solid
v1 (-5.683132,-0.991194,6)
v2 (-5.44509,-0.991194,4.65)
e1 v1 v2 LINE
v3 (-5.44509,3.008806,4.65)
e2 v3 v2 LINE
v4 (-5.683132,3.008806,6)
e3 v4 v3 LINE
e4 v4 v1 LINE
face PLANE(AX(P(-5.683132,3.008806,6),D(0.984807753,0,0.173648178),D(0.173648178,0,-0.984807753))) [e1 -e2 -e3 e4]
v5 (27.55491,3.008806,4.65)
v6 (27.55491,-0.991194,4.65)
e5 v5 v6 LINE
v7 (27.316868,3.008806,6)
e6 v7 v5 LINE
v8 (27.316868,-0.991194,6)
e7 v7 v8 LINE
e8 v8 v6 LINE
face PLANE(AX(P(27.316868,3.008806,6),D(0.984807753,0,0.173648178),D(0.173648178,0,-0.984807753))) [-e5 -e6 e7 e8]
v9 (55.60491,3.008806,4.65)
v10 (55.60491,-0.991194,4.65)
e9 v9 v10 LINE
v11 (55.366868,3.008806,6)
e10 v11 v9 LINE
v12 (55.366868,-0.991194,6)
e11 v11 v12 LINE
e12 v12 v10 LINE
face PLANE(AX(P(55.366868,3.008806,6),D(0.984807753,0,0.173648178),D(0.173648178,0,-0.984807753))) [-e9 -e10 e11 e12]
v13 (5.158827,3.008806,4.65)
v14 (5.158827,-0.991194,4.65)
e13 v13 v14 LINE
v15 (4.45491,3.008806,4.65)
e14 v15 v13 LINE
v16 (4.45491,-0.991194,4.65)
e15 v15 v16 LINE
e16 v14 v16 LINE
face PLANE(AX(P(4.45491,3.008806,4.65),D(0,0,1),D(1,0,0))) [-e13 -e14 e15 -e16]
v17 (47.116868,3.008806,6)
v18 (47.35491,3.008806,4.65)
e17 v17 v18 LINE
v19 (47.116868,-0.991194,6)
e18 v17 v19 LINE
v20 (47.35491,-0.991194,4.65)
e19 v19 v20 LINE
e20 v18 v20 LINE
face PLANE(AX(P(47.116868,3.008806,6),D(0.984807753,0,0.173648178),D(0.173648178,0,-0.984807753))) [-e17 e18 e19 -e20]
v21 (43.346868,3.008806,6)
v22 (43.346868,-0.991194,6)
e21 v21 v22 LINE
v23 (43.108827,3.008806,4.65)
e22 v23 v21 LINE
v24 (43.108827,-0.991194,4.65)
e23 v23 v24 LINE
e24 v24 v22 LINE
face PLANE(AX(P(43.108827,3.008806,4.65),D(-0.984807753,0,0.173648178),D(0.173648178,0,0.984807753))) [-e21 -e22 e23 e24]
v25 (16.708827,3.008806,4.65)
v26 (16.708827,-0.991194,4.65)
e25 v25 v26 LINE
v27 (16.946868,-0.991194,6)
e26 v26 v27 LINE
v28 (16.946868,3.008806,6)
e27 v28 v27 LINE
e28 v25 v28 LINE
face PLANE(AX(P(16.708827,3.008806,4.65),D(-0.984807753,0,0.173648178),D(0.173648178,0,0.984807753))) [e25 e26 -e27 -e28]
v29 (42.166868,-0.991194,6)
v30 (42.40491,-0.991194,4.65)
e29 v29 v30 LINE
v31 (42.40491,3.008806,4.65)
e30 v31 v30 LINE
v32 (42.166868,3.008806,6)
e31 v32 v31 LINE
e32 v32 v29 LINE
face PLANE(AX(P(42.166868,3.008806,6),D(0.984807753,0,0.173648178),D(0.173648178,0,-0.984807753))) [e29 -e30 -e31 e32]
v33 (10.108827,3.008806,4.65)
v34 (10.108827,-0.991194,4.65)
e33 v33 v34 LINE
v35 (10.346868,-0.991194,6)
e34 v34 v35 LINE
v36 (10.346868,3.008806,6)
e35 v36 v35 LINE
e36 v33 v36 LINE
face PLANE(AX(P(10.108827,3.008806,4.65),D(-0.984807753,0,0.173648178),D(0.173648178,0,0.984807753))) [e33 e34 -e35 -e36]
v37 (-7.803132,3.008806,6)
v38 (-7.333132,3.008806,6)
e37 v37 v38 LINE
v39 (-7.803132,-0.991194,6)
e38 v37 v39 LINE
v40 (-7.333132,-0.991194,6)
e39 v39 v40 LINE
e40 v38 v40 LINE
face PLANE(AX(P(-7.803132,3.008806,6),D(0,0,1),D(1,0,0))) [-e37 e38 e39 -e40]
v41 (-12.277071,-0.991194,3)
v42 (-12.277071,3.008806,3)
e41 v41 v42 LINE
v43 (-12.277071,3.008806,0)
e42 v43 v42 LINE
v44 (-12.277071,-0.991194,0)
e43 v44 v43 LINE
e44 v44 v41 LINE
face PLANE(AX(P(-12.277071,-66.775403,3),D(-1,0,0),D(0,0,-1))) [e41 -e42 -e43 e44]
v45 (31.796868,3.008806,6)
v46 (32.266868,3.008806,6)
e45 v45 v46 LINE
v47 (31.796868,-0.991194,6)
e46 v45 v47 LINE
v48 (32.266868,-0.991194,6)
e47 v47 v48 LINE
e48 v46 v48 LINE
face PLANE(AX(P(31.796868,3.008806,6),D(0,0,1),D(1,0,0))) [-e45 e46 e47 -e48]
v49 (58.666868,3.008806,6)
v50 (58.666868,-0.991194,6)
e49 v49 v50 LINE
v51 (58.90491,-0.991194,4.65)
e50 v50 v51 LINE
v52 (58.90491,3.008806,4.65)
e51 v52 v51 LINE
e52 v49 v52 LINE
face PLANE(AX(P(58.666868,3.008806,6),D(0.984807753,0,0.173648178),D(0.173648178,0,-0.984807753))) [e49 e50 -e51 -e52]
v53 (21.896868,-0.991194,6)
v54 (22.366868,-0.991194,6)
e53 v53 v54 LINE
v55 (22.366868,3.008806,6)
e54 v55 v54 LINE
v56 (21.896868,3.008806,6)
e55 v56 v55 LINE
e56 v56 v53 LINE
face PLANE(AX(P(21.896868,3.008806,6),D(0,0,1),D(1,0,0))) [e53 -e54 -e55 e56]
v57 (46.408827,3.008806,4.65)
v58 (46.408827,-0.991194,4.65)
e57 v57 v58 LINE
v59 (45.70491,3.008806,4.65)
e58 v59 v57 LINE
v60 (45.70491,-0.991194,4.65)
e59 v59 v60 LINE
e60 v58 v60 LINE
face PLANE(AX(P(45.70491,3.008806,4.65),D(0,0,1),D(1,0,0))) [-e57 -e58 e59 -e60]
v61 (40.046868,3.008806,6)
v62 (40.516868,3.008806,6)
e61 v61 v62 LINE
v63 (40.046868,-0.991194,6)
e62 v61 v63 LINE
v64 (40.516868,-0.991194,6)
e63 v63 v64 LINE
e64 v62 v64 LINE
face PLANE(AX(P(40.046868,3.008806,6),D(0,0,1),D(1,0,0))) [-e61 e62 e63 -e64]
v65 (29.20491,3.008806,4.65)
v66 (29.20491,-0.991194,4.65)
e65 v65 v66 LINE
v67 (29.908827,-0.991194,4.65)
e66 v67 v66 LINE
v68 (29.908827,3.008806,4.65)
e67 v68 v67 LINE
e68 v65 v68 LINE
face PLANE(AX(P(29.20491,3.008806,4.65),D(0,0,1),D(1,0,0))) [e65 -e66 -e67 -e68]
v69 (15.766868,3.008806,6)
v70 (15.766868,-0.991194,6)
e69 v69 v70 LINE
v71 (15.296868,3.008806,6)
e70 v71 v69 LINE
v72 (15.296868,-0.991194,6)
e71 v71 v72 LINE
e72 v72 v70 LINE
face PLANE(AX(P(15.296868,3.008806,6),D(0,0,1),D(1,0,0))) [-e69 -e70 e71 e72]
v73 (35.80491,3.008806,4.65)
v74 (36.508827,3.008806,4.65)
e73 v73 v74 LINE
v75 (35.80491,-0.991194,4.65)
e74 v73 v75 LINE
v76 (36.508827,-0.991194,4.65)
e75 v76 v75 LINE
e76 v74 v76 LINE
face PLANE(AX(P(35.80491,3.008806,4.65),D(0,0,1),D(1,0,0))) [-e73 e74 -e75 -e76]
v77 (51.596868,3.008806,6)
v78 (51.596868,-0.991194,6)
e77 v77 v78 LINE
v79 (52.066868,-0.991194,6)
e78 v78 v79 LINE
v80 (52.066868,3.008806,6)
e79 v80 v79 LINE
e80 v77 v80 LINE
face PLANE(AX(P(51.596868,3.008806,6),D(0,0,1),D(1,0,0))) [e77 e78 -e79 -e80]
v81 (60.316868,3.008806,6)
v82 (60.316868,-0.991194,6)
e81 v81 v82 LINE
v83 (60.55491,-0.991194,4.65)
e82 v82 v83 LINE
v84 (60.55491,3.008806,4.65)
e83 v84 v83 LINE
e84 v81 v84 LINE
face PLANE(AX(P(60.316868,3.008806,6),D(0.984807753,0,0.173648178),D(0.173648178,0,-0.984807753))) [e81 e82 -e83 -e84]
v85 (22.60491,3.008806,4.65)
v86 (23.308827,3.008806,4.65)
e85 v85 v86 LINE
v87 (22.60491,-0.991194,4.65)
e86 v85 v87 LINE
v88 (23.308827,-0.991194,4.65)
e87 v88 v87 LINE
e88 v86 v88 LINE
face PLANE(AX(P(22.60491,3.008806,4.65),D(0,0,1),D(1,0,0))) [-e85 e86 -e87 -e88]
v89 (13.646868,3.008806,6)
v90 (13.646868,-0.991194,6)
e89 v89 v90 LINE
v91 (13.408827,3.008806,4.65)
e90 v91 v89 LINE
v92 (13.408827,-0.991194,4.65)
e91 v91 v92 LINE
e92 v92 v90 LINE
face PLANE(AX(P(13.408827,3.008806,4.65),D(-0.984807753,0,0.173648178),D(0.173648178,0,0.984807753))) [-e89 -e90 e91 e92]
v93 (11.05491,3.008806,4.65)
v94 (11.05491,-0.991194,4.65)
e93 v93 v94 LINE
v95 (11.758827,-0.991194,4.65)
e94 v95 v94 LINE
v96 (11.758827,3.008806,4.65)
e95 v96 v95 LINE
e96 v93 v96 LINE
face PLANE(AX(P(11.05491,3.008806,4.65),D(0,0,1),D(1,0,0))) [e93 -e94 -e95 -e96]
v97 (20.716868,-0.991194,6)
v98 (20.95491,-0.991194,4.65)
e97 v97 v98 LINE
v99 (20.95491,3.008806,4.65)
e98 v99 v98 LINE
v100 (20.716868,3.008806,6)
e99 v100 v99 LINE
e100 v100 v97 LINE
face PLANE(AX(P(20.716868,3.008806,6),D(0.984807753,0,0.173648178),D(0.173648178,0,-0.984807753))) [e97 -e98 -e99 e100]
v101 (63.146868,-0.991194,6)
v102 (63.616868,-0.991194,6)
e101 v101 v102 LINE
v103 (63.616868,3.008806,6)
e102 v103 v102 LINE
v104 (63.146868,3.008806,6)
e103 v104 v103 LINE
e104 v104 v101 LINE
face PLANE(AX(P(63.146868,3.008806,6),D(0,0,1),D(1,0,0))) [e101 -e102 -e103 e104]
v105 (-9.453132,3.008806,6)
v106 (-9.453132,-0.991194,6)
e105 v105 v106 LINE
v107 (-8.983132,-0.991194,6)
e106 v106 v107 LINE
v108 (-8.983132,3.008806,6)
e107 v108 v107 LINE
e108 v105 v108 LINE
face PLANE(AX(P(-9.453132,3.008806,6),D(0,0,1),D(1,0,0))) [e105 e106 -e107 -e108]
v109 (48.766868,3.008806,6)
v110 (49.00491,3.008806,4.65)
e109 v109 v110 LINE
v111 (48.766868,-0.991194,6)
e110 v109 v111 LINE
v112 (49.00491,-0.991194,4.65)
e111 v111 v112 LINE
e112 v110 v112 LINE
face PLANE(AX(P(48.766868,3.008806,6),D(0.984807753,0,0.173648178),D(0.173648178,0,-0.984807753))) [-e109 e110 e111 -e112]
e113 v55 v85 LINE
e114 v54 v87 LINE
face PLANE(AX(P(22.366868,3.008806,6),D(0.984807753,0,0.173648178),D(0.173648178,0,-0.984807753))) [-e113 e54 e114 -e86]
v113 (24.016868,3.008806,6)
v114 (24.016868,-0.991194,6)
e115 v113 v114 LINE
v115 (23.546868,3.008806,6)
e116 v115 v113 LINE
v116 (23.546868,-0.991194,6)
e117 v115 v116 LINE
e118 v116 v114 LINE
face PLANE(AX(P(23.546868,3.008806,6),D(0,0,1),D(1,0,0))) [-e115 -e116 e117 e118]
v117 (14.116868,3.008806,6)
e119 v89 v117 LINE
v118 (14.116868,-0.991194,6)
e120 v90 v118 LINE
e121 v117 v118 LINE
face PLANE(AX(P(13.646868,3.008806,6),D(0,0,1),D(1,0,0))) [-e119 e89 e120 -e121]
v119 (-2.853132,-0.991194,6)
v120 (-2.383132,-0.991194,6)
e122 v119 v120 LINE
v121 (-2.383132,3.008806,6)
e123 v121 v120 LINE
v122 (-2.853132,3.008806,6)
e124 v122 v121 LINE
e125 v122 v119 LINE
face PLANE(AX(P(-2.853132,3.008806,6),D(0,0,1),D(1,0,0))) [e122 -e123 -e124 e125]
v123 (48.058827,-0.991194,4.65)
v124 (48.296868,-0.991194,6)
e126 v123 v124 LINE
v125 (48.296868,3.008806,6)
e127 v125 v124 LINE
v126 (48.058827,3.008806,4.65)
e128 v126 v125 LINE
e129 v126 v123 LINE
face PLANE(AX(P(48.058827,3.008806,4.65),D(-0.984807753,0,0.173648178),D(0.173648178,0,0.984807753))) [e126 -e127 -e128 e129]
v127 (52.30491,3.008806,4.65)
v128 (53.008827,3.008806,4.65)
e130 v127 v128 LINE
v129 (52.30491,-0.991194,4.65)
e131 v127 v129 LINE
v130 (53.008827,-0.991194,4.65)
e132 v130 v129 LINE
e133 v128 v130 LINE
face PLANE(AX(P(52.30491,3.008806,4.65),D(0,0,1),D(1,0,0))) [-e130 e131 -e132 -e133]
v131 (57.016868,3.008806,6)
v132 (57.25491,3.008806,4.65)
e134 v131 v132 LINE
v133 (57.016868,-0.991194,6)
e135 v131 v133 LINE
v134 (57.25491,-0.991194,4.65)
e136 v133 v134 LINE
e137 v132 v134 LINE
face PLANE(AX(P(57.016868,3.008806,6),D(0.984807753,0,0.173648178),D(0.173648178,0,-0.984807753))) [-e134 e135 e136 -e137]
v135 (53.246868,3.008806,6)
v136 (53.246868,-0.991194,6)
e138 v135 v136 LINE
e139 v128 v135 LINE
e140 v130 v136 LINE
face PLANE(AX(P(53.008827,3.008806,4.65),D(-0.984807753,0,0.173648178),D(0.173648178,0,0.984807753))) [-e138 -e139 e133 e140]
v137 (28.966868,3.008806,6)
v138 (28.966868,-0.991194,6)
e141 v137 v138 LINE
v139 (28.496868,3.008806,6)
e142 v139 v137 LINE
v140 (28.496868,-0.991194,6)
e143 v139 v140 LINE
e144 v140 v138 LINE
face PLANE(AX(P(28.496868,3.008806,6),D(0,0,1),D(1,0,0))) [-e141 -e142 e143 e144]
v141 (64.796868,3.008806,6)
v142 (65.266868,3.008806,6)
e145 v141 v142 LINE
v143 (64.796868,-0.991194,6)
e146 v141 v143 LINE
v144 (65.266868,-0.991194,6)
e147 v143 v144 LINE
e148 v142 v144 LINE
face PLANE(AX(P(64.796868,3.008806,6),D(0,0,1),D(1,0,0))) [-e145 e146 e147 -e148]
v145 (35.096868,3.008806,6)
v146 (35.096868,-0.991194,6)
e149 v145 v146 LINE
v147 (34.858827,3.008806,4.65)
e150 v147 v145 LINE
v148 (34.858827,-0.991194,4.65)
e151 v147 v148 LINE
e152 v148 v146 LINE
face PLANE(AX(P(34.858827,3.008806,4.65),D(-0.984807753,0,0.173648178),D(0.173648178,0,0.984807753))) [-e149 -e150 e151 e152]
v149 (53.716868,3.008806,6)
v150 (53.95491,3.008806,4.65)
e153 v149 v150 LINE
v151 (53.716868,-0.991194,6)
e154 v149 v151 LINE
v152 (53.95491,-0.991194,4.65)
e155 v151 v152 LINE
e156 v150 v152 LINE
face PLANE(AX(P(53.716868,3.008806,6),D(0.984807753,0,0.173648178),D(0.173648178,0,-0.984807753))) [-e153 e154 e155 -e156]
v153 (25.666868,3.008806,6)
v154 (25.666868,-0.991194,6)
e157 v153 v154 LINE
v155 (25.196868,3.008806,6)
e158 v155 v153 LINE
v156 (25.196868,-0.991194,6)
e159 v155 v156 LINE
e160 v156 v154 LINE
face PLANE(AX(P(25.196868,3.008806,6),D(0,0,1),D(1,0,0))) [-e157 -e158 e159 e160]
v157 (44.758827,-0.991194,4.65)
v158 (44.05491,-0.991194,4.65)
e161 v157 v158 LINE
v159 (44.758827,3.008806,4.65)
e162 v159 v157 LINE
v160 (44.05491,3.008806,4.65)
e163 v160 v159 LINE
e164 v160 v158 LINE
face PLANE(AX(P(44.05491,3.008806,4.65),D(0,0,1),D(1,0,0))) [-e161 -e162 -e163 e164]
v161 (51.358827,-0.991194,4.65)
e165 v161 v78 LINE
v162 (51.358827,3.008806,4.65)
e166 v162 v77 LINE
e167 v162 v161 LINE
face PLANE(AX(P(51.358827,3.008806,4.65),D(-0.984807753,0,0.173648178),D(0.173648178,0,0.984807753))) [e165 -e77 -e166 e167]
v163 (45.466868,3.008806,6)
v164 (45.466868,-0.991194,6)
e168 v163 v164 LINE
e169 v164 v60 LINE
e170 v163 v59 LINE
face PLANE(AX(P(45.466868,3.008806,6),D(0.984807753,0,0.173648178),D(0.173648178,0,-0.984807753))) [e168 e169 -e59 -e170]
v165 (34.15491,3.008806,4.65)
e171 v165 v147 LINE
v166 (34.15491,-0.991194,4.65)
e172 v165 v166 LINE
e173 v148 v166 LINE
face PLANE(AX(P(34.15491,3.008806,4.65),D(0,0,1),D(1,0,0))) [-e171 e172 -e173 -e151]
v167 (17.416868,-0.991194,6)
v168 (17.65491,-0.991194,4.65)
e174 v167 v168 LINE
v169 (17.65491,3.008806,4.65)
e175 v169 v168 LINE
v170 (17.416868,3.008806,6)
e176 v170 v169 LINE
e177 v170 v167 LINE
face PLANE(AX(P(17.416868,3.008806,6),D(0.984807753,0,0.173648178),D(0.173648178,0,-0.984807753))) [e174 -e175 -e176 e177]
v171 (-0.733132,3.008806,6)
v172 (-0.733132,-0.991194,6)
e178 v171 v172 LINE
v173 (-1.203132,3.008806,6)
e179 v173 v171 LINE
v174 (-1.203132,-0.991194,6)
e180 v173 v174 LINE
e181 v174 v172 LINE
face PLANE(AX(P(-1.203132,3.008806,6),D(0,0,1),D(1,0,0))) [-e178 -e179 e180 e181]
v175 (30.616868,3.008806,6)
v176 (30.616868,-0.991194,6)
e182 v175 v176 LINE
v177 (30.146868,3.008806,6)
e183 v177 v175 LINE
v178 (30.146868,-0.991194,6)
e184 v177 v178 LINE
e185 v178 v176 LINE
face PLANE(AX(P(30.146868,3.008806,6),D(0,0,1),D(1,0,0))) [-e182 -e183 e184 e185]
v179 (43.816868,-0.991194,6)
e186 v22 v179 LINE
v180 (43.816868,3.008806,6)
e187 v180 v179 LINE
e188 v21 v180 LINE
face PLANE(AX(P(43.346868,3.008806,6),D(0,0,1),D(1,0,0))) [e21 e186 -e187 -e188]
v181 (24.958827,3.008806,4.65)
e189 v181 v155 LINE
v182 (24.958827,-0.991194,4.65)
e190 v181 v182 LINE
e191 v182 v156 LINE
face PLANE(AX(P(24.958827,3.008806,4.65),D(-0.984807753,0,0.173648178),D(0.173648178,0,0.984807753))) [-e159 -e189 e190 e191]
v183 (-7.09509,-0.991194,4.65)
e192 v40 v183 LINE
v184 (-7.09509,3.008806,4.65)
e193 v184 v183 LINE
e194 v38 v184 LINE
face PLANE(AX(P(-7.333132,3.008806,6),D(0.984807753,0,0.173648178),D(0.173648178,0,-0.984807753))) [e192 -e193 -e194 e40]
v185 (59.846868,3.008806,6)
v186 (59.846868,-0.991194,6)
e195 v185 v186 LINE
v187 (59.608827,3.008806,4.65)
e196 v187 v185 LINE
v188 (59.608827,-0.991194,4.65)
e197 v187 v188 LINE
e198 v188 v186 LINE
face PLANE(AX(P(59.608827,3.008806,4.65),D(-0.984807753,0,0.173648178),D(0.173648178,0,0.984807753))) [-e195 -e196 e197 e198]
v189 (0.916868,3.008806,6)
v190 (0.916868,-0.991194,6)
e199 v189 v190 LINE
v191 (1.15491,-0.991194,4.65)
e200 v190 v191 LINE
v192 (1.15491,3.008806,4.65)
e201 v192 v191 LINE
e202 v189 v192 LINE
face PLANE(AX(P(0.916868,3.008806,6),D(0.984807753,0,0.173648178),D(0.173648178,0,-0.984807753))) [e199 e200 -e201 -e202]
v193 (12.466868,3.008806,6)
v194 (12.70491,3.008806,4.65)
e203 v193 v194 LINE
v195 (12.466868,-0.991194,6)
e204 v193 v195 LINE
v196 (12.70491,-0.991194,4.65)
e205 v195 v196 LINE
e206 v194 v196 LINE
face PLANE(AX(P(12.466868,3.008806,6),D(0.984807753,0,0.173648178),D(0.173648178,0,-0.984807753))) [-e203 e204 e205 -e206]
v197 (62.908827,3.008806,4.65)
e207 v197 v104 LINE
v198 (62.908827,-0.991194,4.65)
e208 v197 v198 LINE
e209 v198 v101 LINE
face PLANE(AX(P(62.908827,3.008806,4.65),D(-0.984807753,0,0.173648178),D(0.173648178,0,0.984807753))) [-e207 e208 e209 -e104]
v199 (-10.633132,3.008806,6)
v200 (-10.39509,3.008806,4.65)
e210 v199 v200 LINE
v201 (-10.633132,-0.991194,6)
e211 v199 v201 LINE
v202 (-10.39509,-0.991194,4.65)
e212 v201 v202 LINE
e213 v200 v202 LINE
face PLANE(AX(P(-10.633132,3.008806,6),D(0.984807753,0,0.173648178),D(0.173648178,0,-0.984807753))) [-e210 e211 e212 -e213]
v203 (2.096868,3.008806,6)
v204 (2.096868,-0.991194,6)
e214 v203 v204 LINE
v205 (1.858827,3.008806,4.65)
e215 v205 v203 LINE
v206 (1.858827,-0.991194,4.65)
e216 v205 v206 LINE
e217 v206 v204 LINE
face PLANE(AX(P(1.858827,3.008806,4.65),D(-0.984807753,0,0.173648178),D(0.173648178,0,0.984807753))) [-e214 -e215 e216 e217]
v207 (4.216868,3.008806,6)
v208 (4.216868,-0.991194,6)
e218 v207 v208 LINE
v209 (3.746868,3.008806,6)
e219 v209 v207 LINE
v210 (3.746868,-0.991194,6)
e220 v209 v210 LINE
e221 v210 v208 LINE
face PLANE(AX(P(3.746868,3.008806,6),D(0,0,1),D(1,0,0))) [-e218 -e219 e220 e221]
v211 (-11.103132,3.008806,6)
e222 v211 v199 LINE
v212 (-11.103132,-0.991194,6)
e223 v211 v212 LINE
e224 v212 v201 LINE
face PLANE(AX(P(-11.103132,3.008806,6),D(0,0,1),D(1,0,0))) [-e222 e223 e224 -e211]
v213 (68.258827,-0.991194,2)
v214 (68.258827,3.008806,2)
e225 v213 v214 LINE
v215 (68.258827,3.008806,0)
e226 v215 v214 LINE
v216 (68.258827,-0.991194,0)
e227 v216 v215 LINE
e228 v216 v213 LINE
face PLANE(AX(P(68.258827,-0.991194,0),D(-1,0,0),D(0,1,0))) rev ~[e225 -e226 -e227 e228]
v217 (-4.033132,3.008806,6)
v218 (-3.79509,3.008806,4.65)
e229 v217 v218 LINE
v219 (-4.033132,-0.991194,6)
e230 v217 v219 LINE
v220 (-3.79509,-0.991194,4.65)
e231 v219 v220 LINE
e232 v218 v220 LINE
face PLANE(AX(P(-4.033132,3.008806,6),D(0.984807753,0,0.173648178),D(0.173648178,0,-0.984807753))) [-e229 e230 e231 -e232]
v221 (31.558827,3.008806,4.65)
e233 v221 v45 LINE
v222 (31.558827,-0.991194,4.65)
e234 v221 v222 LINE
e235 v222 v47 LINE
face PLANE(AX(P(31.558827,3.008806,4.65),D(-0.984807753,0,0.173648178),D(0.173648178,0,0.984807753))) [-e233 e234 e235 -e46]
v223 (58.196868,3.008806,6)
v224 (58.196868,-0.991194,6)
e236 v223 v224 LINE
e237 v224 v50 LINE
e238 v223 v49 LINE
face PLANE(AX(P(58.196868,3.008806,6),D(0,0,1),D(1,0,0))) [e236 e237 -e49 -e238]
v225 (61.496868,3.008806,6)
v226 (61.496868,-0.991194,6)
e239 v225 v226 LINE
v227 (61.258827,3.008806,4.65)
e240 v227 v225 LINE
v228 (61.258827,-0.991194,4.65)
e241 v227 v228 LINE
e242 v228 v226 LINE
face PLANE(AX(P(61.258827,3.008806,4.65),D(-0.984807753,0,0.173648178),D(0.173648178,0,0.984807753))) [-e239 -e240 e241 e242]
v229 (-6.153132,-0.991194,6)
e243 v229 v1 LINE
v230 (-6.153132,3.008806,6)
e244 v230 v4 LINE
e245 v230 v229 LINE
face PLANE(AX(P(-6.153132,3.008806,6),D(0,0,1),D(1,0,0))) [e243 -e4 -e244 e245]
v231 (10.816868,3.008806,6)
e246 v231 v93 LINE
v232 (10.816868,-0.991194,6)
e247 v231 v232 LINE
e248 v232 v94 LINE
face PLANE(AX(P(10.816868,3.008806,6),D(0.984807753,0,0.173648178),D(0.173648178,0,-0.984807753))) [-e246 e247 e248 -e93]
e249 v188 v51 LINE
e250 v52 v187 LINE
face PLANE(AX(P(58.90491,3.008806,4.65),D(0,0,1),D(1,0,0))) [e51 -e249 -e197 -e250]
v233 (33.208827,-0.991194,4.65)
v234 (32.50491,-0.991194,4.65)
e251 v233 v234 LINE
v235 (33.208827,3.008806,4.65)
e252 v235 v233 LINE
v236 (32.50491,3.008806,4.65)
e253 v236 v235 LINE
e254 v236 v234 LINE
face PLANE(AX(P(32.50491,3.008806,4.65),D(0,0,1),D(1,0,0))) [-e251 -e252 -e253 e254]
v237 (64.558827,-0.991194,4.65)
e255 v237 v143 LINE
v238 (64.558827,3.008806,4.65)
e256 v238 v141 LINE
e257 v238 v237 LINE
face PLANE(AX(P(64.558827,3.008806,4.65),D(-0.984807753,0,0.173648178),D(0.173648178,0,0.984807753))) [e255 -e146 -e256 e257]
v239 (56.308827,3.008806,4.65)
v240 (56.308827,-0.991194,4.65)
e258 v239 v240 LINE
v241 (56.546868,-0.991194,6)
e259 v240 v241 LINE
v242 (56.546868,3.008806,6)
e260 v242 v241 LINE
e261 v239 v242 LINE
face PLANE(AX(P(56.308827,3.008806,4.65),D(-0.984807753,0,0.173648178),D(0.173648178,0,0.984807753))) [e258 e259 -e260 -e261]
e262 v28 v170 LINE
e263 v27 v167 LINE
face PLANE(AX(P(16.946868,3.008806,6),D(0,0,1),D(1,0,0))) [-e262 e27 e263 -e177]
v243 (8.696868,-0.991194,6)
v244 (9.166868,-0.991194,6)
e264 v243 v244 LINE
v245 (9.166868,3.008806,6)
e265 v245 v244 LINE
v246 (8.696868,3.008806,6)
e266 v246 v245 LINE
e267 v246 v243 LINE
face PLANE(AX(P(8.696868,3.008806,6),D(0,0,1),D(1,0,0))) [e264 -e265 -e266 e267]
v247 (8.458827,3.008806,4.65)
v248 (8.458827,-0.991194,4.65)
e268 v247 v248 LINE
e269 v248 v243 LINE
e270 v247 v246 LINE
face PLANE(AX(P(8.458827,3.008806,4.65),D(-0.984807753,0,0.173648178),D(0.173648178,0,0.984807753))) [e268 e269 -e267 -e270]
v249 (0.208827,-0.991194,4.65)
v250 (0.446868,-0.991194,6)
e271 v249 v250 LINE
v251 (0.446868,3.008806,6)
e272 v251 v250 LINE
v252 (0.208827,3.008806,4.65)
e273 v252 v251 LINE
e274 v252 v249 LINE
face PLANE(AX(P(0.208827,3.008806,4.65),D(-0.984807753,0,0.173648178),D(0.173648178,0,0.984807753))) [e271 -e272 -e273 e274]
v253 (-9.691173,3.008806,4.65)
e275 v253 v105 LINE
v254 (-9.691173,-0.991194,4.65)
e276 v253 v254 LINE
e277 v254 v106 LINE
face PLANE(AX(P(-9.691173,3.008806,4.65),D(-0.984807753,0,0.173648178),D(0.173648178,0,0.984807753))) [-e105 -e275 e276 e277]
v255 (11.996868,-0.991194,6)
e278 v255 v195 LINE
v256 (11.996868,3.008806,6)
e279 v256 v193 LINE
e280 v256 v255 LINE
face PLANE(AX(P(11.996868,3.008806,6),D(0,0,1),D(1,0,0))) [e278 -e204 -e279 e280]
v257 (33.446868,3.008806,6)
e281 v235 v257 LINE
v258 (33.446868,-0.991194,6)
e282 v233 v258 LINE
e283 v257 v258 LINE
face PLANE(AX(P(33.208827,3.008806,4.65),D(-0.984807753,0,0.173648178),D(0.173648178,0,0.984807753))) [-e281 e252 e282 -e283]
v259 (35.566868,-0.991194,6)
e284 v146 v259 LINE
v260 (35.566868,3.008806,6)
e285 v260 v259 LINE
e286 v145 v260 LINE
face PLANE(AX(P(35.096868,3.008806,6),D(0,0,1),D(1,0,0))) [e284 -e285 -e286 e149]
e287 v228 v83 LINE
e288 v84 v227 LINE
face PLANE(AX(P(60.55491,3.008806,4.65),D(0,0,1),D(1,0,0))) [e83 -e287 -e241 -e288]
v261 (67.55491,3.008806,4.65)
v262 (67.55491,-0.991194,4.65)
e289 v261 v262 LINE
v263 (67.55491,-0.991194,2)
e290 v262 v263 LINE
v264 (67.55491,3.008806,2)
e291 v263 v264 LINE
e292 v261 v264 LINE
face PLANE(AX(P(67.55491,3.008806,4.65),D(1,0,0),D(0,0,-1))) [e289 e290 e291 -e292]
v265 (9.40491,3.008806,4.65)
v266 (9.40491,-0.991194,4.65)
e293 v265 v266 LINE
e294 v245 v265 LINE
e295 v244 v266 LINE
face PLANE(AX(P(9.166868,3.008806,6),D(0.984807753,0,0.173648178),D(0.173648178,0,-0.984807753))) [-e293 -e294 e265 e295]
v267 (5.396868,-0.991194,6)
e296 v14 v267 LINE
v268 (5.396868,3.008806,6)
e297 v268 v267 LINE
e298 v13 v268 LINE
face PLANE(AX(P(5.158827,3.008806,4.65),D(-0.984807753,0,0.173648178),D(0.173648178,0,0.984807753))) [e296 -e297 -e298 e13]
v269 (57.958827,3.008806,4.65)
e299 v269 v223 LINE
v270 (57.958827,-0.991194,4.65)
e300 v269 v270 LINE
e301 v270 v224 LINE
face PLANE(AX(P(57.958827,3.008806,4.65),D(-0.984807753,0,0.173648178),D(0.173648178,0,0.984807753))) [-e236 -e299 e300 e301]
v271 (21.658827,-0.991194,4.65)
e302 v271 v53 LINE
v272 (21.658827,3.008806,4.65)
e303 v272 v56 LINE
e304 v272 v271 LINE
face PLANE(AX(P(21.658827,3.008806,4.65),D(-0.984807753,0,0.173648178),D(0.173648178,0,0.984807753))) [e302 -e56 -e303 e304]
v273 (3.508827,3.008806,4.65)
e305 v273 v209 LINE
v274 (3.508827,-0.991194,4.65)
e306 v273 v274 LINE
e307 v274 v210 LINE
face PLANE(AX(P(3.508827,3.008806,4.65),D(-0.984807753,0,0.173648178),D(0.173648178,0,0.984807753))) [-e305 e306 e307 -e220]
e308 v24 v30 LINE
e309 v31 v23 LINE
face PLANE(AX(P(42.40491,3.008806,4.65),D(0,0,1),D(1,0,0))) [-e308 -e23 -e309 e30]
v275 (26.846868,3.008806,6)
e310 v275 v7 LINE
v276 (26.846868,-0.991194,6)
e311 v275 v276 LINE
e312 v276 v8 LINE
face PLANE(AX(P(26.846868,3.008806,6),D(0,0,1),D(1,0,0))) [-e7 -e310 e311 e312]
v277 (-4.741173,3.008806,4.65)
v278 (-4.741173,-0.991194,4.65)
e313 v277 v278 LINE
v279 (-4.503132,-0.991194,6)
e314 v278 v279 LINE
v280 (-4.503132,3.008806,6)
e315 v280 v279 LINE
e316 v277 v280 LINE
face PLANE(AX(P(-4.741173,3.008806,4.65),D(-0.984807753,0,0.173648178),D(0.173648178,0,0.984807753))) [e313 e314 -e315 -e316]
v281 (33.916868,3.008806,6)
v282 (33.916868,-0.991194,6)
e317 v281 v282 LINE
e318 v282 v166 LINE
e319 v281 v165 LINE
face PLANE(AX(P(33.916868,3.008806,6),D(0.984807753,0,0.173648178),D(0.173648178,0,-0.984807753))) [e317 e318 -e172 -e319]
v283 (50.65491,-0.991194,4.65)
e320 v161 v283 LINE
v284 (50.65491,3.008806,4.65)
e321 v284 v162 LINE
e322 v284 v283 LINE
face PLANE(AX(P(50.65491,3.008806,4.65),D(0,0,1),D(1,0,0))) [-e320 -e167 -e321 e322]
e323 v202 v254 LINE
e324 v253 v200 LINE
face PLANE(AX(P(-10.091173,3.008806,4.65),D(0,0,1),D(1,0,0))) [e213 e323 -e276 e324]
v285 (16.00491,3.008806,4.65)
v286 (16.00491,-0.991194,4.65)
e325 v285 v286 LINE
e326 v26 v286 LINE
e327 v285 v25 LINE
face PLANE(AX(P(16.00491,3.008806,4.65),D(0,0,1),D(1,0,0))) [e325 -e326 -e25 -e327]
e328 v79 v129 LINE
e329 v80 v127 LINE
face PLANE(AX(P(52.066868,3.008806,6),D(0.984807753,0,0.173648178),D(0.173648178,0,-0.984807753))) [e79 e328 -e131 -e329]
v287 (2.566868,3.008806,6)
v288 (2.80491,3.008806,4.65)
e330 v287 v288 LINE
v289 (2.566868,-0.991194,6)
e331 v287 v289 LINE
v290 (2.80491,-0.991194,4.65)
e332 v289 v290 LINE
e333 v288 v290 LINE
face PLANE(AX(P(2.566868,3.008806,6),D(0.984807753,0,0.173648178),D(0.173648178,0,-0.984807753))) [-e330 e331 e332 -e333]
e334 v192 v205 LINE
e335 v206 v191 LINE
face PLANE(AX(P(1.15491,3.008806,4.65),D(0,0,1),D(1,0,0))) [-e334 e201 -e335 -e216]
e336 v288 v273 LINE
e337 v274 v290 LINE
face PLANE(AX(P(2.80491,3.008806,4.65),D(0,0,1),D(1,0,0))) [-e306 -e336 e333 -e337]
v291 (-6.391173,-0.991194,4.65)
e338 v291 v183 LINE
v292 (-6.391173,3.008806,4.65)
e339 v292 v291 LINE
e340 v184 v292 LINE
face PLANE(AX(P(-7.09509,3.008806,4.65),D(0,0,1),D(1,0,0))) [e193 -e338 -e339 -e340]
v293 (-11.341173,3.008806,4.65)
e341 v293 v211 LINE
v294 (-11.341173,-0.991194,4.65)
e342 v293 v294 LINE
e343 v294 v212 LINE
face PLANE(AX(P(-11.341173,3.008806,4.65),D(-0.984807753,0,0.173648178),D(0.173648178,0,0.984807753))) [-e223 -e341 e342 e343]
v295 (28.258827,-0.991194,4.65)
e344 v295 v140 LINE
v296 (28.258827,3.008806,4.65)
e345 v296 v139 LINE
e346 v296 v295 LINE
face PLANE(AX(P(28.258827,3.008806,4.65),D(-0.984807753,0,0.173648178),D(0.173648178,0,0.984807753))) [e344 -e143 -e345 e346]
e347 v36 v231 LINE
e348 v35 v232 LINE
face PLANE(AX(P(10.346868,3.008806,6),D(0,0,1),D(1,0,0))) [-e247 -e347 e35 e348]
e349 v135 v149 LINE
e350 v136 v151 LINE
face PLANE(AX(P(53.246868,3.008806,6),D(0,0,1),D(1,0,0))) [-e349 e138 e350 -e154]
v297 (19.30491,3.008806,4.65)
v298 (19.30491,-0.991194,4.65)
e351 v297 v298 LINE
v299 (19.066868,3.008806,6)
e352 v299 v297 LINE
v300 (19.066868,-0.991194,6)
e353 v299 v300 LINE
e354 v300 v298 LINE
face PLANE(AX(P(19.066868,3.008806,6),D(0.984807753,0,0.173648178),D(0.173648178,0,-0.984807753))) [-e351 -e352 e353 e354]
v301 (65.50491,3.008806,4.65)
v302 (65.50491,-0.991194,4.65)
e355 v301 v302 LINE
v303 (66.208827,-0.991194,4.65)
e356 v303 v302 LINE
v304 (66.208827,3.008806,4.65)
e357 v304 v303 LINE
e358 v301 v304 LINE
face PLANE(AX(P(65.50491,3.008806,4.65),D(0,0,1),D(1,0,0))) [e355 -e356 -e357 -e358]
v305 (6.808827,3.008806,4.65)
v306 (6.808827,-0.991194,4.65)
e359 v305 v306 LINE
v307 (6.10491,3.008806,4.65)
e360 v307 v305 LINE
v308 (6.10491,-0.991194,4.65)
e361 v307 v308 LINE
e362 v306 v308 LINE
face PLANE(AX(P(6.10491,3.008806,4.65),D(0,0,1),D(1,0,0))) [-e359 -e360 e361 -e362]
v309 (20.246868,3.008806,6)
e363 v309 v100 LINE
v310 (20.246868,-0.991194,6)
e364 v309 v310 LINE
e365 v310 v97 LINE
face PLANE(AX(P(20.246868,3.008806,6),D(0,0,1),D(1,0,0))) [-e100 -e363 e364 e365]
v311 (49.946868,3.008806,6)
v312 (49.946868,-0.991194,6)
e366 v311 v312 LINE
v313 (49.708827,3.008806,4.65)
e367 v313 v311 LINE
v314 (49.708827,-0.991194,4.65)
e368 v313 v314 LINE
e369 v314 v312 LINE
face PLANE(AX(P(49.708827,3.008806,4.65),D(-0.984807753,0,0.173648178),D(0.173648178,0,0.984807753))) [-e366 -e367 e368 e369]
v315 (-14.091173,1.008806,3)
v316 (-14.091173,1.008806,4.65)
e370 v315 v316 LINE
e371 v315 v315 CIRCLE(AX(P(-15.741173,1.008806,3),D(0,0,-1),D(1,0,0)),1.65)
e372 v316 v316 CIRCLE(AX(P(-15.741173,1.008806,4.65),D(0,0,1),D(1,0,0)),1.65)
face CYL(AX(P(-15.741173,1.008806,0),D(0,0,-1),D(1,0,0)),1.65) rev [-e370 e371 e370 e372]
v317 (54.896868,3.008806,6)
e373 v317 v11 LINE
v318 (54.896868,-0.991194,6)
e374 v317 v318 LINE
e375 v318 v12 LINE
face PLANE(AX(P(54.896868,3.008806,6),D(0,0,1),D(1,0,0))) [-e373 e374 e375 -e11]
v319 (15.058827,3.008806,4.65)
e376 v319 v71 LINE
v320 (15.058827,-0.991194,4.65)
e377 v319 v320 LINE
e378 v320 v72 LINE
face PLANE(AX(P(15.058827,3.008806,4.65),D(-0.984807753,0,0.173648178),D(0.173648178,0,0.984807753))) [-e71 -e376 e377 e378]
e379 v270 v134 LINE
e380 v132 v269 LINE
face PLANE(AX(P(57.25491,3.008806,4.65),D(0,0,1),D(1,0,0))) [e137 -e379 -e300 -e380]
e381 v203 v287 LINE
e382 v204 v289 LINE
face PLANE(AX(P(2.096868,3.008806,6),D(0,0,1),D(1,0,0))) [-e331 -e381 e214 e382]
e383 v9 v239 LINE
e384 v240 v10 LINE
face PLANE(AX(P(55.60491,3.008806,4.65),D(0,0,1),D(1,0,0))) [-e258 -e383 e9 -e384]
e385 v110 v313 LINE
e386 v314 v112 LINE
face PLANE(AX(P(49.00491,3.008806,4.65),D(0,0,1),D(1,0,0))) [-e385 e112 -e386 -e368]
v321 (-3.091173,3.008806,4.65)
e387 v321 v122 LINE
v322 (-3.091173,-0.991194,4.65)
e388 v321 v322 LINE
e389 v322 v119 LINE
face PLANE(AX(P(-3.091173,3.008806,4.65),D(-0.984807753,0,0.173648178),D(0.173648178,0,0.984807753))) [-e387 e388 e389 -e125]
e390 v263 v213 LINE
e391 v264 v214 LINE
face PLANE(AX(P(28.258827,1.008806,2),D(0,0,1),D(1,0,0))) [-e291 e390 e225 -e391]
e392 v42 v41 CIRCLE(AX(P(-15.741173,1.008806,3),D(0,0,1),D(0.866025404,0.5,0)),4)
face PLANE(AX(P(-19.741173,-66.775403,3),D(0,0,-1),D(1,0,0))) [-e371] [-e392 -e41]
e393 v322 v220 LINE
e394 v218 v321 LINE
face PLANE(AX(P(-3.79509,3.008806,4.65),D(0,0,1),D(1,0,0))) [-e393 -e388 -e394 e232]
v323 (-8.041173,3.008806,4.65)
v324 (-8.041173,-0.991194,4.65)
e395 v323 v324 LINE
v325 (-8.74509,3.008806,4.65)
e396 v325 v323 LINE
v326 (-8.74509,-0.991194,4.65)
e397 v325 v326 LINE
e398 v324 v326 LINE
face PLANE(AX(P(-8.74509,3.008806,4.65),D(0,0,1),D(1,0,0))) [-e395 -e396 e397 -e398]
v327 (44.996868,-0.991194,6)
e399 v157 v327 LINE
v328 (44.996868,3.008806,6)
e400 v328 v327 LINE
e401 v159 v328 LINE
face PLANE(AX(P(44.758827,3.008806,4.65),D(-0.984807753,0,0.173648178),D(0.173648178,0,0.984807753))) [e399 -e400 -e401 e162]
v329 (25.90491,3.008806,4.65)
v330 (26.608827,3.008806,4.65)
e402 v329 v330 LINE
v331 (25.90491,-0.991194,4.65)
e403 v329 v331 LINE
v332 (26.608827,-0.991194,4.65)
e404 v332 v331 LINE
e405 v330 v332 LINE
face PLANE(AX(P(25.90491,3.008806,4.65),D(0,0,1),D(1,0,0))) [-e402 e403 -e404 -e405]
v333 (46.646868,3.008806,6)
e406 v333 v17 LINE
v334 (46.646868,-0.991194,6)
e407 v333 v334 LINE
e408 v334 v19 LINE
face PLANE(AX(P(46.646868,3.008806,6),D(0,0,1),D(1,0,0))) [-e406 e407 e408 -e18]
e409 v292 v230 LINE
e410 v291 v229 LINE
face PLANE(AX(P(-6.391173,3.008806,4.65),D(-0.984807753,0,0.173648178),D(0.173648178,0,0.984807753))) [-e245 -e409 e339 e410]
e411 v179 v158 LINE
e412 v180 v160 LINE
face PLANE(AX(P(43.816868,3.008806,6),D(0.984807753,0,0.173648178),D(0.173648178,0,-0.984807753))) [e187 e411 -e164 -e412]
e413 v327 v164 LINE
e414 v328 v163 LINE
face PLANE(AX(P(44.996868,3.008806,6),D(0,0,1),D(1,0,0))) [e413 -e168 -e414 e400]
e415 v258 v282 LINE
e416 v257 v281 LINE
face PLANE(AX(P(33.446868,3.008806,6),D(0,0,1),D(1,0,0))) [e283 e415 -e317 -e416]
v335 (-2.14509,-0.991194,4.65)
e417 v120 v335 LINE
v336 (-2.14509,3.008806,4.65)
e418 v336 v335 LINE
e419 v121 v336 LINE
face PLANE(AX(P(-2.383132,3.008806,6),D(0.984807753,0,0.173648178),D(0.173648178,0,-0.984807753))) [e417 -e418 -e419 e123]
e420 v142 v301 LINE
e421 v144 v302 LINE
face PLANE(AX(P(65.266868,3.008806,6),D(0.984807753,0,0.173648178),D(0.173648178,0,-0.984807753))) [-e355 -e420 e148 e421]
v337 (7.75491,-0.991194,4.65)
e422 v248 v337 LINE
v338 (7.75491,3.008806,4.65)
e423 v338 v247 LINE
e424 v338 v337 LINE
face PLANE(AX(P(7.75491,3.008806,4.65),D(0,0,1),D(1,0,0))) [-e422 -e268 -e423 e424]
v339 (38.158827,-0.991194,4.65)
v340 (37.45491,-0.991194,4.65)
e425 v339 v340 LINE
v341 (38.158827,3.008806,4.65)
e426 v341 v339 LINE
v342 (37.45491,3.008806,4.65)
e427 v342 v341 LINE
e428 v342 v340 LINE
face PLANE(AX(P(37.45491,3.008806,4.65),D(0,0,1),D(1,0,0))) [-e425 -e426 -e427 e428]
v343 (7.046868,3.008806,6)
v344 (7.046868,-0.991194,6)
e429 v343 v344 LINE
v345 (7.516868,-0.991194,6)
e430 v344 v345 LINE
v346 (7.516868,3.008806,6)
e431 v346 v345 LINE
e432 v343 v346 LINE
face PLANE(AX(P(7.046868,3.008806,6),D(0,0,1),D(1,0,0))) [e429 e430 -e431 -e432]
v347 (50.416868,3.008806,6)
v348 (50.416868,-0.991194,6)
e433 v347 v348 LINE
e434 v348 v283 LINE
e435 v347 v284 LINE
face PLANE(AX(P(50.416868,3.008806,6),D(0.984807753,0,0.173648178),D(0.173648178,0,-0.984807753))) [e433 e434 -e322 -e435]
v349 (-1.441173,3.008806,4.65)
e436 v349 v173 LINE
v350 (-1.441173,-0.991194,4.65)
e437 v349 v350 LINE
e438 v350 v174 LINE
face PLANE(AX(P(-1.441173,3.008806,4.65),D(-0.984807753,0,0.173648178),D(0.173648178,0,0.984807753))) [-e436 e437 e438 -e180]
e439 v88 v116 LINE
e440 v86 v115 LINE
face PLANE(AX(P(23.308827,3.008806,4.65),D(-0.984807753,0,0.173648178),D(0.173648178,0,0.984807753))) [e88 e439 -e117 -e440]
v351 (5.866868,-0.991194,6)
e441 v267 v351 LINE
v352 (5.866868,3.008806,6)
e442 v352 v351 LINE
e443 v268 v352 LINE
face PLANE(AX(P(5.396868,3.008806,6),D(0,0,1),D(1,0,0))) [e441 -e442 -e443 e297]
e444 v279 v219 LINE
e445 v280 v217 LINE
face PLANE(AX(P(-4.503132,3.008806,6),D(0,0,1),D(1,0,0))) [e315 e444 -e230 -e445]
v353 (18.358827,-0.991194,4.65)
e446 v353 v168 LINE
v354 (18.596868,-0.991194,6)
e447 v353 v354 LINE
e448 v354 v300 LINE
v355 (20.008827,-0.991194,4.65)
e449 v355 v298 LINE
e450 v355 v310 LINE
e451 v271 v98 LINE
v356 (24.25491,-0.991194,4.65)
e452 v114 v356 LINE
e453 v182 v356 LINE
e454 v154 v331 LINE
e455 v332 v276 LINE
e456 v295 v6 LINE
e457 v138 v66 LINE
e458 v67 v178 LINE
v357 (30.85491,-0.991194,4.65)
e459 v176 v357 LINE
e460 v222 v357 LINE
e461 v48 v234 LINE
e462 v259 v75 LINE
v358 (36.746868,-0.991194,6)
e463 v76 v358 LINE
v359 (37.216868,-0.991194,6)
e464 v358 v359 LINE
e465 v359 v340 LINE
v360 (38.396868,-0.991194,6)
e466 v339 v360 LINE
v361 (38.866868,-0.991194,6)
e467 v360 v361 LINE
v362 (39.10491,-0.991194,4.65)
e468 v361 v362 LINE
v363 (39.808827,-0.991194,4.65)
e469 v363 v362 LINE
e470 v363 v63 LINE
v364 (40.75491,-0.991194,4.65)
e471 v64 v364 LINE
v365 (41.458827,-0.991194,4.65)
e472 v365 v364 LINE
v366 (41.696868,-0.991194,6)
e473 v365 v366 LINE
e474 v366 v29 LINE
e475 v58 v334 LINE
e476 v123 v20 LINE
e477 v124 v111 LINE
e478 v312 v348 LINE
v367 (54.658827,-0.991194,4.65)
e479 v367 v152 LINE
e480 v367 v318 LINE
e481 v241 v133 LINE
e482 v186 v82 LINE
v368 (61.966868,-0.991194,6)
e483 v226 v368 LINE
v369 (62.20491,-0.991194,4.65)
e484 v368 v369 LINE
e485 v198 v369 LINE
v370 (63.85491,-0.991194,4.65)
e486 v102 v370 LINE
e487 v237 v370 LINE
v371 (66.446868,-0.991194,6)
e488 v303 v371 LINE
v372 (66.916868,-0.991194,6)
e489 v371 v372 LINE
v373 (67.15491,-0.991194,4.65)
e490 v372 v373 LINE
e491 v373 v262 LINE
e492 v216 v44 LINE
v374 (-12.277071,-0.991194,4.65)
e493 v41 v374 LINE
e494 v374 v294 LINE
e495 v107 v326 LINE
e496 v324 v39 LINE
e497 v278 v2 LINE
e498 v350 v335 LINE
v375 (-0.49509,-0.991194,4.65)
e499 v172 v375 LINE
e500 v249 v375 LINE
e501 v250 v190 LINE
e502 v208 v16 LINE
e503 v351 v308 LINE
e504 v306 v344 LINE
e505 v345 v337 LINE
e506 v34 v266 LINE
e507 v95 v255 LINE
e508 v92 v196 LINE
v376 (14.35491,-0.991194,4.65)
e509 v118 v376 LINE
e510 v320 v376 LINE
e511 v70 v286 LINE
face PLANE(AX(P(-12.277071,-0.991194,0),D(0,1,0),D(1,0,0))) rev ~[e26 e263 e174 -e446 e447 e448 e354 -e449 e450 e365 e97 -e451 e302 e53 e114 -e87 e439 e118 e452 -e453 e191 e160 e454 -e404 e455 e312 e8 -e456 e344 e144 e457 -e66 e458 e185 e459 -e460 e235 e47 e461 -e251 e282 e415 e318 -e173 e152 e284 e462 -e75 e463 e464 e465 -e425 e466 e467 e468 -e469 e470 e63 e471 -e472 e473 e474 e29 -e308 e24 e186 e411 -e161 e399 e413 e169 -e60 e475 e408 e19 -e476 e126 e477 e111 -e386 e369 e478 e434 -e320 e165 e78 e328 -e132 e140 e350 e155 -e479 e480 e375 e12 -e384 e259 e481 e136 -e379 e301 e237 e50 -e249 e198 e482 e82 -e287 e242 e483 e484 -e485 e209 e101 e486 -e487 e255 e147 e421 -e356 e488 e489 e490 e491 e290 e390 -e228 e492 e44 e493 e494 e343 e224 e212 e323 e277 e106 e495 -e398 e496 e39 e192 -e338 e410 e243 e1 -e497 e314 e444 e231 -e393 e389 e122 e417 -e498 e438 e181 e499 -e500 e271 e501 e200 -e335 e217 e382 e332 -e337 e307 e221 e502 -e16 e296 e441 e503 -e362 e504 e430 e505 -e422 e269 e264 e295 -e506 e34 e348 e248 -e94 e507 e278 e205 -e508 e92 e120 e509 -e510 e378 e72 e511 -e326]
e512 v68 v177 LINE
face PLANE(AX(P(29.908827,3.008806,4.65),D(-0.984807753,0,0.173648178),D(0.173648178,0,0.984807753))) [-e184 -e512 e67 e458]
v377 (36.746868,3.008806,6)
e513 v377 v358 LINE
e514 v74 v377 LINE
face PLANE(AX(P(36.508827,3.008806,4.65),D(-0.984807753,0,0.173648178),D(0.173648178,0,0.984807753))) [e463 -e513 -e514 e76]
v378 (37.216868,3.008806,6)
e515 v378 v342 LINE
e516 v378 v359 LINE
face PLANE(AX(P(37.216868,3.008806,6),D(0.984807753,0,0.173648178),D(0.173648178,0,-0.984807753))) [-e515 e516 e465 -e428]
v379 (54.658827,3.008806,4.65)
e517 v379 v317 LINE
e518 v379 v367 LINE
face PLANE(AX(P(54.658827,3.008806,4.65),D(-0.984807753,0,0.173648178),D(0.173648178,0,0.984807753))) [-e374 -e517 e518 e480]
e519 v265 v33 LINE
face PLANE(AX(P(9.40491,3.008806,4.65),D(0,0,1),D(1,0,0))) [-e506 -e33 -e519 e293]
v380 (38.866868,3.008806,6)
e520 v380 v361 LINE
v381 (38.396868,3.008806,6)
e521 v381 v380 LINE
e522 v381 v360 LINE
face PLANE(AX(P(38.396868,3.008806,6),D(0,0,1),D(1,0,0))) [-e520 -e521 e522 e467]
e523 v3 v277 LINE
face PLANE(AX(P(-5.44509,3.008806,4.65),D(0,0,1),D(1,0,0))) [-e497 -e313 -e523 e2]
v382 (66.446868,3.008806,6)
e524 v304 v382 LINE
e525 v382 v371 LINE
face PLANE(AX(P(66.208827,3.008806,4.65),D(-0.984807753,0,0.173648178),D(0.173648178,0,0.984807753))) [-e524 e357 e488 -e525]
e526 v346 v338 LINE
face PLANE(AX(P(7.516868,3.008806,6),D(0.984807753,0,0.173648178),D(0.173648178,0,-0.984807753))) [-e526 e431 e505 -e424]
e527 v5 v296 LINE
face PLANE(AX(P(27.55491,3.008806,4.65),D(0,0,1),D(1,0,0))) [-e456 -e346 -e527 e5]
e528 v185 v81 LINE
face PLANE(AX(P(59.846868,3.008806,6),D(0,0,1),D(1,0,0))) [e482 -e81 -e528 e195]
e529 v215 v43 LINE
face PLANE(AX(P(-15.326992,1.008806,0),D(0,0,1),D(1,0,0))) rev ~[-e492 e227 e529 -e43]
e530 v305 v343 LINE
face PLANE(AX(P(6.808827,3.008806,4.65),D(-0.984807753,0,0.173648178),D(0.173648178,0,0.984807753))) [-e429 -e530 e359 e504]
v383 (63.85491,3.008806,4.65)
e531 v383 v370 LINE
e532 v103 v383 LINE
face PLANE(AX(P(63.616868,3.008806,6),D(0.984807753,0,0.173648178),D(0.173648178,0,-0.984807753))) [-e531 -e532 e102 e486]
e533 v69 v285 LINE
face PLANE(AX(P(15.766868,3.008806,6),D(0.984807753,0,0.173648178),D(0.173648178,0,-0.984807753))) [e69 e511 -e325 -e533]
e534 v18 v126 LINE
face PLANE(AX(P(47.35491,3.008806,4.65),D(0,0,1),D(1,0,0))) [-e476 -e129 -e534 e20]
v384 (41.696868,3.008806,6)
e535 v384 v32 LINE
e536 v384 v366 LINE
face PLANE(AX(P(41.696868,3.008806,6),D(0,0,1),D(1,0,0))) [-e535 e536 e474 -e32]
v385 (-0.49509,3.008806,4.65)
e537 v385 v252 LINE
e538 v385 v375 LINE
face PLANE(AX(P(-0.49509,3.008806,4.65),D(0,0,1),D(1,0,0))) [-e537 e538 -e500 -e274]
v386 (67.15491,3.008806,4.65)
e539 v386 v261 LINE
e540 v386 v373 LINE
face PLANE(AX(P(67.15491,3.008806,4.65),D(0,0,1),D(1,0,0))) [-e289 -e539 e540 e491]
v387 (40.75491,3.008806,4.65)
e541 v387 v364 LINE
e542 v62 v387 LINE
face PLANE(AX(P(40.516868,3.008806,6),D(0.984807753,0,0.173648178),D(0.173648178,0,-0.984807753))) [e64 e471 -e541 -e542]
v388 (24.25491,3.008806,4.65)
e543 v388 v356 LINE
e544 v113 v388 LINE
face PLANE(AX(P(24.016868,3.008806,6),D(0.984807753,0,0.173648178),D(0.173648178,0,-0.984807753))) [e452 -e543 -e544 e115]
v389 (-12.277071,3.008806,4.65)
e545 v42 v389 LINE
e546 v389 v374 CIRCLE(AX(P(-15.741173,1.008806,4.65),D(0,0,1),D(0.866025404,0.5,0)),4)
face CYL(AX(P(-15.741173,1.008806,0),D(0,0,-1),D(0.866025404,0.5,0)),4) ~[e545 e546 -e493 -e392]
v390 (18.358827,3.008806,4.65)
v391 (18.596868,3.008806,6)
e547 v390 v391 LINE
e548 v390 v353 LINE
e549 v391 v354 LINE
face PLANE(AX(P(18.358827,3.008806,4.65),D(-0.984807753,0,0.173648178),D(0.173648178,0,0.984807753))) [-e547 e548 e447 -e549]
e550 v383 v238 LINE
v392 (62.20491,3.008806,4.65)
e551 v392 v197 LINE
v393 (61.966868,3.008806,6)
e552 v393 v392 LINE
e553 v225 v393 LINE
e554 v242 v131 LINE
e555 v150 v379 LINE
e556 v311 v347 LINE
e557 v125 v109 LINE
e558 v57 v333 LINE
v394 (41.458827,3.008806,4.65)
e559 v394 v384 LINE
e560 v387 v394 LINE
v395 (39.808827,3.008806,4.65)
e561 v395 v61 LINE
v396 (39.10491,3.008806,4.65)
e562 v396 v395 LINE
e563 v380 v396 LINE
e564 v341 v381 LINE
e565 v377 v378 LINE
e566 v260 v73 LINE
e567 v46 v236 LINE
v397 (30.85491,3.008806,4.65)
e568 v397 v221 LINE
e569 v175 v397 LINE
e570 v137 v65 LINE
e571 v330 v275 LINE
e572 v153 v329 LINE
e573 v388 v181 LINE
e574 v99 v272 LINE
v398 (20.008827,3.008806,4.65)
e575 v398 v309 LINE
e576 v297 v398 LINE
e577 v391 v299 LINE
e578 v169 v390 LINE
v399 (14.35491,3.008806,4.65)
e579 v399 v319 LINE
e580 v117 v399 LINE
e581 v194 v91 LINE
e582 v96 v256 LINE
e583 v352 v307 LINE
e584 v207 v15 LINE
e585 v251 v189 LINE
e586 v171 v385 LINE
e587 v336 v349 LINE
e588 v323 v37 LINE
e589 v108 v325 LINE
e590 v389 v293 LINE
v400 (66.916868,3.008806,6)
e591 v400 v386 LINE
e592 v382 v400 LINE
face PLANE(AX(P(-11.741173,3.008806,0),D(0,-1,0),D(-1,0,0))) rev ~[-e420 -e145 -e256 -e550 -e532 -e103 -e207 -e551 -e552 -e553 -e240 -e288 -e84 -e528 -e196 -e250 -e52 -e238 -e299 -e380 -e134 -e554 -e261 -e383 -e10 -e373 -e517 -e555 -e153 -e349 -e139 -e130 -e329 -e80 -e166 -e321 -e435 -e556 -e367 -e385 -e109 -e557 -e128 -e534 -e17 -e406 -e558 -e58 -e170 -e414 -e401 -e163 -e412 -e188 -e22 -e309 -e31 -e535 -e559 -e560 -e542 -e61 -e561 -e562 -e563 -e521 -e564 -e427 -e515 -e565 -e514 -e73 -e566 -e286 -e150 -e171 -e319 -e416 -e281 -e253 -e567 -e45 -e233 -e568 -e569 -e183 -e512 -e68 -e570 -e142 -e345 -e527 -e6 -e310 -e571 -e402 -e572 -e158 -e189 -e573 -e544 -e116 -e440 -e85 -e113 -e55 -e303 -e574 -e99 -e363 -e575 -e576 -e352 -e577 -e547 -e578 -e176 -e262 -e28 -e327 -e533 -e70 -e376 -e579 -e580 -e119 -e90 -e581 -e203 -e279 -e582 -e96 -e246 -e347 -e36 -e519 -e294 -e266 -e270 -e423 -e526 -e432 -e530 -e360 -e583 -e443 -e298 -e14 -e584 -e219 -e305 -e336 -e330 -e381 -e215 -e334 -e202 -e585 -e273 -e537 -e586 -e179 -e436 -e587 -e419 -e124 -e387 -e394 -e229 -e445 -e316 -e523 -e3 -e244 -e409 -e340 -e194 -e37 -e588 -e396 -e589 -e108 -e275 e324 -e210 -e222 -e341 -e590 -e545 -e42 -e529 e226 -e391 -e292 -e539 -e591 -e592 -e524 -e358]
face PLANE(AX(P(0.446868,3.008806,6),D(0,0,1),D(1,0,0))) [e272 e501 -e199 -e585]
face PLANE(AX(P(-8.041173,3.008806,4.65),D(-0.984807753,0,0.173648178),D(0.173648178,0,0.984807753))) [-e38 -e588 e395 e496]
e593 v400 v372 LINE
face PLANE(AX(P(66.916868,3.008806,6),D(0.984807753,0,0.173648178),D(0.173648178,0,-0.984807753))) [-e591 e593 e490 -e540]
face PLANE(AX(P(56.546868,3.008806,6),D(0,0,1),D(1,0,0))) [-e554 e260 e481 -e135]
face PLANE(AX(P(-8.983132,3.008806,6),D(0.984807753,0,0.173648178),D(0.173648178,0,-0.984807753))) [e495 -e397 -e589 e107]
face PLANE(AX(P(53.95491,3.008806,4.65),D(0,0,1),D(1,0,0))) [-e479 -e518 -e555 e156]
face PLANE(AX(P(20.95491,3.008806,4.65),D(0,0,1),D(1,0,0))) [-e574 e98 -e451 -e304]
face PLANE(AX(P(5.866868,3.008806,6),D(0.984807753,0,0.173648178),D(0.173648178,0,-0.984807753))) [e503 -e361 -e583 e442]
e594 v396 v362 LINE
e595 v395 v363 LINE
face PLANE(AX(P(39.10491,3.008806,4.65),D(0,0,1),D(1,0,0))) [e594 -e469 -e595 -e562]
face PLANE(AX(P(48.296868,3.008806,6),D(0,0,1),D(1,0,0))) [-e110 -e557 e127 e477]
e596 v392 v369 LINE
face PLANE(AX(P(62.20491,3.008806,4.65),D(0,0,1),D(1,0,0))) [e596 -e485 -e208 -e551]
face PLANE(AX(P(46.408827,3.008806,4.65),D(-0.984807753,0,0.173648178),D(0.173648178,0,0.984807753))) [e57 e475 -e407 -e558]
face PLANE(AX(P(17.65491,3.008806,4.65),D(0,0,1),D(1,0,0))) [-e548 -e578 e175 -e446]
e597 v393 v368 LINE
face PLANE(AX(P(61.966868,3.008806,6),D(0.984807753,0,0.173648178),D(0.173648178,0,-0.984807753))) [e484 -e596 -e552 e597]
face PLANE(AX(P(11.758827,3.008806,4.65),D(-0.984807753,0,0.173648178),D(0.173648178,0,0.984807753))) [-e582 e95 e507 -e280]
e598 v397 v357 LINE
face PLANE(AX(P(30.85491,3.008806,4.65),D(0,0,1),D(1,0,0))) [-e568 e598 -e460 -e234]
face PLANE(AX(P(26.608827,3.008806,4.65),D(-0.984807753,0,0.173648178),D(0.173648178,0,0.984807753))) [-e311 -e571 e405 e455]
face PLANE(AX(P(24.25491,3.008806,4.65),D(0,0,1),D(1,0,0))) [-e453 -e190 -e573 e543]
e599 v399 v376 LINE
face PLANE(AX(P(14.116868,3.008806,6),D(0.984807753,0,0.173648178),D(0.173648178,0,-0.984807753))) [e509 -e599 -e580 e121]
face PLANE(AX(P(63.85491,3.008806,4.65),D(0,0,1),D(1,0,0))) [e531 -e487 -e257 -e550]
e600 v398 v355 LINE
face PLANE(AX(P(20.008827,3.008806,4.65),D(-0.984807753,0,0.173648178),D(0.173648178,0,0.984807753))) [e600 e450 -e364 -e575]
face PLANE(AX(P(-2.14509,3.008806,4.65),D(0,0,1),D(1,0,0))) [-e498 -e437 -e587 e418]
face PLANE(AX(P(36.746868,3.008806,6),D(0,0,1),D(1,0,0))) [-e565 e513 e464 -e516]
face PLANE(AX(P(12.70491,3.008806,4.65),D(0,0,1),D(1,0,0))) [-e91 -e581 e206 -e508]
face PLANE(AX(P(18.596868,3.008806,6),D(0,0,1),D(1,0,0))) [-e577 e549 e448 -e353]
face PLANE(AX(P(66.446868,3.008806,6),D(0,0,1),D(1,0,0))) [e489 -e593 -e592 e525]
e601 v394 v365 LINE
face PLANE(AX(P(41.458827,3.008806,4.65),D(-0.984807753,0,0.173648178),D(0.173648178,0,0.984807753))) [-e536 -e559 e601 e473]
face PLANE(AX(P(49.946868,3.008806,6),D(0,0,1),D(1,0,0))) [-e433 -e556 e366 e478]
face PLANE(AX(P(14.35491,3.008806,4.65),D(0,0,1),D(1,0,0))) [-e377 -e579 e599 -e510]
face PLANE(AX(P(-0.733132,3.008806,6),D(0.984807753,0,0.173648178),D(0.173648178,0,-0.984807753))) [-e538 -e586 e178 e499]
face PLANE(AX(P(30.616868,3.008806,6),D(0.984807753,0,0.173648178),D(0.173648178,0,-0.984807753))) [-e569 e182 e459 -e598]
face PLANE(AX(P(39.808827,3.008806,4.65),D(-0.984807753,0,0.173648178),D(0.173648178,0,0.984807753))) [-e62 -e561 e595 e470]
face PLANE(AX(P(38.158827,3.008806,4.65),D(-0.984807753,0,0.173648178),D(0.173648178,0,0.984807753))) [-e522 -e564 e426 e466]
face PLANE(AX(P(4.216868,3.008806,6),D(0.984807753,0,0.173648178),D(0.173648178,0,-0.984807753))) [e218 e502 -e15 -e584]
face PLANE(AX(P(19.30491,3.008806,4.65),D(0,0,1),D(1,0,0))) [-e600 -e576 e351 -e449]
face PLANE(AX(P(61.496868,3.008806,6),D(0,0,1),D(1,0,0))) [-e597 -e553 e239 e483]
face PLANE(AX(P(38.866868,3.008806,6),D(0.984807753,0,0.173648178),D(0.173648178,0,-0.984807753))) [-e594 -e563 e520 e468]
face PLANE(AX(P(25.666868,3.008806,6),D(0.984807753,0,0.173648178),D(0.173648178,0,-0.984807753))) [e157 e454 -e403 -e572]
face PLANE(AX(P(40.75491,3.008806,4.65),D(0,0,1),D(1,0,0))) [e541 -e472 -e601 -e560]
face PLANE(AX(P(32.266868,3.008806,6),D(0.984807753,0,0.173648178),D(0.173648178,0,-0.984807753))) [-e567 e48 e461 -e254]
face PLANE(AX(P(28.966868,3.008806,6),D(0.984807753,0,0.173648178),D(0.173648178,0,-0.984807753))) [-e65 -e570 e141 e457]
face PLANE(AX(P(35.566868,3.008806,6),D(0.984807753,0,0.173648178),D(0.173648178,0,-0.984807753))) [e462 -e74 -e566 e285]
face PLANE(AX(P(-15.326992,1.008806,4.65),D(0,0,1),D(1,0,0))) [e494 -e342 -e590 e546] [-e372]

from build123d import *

# Parameters (mm, degrees)
SKETCH1_W               = 80
SKETCH1_H               = 4
BOSS_EXTRUDE1_DEPTH     = 2
BOSS_EXTRUDE2_DEPTH     = 4
LPATTERN1_COUNT         = 48
LPATTERN1_PITCH         = 1.65
SKETCH5_R               = 1.65
BOSS_EXTRUDE3_DEPTH     = 4.65
CUT_EXTRUDE1_DEPTH      = 69.784209361
CUT_EXTRUDE1_DEPTH_BACK = 69.784209361
SKETCH6_W               = 7.464101616
SKETCH6_H               = 3


with BuildPart() as part:
    # Sketch1 → Boss-Extrude1 (new body)
    with BuildSketch(Plane.XY):
        with Locations((28.258826956, 1.008805964)):
            Rectangle(SKETCH1_W, SKETCH1_H)
    extrude(amount=BOSS_EXTRUDE1_DEPTH)

    # Sketch4 → Boss-Extrude2 (add)
    with BuildSketch(Plane(origin=(0, 3.008805964, 0), x_dir=(1, 0, 0), z_dir=(0, 1, 0))):
        Polygon((-11.341173044, -4.65), (-11.10313162, -6), (-10.63313162, -6), (-10.395090196, -4.65), (-9.995090196, -4.65), (-9.995090196, 0), (-11.741173044, 0), (-11.741173044, -4.65), align=None)
    boss_extrude2 = extrude(amount=-BOSS_EXTRUDE2_DEPTH)

    # LPattern1: Boss-Extrude2 ×48
    with Locations(*[(i * LPATTERN1_PITCH, 0, 0) for i in range(1, LPATTERN1_COUNT)]):
        add(boss_extrude2)

    # Sketch5 → Boss-Extrude3 (add)
    with BuildSketch(Plane.XY):
        with BuildLine():
            Line((-11.741173044, 3.008805964), (-12.277071428, 3.008805964))
            ThreePointArc((-12.277071428, 3.008805964), (-19.741173044, 1.008805964), (-12.277071428, -0.991194036))
            Line((-12.277071428, -0.991194036), (-11.741173044, -0.991194036))
            Line((-11.741173044, -0.991194036), (-11.741173044, 3.008805964))
        make_face()
        with Locations((-15.741173044, 1.008805964)):
            Circle(SKETCH5_R, mode=Mode.SUBTRACT)
    extrude(amount=BOSS_EXTRUDE3_DEPTH)

    # Sketch6 → Cut-Extrude1 (cut, two sides: drawn at the far end of the back side and taken through both)
    with BuildSketch(Plane(origin=(0, 3.008805964, 0), x_dir=(1, 0, 0), z_dir=(0, 1, 0)).offset(-CUT_EXTRUDE1_DEPTH_BACK)):
        with Locations((-16.009122236, -1.5)):
            Rectangle(SKETCH6_W, SKETCH6_H)
    extrude(amount=CUT_EXTRUDE1_DEPTH + CUT_EXTRUDE1_DEPTH_BACK, mode=Mode.SUBTRACT)


solid = part.part
